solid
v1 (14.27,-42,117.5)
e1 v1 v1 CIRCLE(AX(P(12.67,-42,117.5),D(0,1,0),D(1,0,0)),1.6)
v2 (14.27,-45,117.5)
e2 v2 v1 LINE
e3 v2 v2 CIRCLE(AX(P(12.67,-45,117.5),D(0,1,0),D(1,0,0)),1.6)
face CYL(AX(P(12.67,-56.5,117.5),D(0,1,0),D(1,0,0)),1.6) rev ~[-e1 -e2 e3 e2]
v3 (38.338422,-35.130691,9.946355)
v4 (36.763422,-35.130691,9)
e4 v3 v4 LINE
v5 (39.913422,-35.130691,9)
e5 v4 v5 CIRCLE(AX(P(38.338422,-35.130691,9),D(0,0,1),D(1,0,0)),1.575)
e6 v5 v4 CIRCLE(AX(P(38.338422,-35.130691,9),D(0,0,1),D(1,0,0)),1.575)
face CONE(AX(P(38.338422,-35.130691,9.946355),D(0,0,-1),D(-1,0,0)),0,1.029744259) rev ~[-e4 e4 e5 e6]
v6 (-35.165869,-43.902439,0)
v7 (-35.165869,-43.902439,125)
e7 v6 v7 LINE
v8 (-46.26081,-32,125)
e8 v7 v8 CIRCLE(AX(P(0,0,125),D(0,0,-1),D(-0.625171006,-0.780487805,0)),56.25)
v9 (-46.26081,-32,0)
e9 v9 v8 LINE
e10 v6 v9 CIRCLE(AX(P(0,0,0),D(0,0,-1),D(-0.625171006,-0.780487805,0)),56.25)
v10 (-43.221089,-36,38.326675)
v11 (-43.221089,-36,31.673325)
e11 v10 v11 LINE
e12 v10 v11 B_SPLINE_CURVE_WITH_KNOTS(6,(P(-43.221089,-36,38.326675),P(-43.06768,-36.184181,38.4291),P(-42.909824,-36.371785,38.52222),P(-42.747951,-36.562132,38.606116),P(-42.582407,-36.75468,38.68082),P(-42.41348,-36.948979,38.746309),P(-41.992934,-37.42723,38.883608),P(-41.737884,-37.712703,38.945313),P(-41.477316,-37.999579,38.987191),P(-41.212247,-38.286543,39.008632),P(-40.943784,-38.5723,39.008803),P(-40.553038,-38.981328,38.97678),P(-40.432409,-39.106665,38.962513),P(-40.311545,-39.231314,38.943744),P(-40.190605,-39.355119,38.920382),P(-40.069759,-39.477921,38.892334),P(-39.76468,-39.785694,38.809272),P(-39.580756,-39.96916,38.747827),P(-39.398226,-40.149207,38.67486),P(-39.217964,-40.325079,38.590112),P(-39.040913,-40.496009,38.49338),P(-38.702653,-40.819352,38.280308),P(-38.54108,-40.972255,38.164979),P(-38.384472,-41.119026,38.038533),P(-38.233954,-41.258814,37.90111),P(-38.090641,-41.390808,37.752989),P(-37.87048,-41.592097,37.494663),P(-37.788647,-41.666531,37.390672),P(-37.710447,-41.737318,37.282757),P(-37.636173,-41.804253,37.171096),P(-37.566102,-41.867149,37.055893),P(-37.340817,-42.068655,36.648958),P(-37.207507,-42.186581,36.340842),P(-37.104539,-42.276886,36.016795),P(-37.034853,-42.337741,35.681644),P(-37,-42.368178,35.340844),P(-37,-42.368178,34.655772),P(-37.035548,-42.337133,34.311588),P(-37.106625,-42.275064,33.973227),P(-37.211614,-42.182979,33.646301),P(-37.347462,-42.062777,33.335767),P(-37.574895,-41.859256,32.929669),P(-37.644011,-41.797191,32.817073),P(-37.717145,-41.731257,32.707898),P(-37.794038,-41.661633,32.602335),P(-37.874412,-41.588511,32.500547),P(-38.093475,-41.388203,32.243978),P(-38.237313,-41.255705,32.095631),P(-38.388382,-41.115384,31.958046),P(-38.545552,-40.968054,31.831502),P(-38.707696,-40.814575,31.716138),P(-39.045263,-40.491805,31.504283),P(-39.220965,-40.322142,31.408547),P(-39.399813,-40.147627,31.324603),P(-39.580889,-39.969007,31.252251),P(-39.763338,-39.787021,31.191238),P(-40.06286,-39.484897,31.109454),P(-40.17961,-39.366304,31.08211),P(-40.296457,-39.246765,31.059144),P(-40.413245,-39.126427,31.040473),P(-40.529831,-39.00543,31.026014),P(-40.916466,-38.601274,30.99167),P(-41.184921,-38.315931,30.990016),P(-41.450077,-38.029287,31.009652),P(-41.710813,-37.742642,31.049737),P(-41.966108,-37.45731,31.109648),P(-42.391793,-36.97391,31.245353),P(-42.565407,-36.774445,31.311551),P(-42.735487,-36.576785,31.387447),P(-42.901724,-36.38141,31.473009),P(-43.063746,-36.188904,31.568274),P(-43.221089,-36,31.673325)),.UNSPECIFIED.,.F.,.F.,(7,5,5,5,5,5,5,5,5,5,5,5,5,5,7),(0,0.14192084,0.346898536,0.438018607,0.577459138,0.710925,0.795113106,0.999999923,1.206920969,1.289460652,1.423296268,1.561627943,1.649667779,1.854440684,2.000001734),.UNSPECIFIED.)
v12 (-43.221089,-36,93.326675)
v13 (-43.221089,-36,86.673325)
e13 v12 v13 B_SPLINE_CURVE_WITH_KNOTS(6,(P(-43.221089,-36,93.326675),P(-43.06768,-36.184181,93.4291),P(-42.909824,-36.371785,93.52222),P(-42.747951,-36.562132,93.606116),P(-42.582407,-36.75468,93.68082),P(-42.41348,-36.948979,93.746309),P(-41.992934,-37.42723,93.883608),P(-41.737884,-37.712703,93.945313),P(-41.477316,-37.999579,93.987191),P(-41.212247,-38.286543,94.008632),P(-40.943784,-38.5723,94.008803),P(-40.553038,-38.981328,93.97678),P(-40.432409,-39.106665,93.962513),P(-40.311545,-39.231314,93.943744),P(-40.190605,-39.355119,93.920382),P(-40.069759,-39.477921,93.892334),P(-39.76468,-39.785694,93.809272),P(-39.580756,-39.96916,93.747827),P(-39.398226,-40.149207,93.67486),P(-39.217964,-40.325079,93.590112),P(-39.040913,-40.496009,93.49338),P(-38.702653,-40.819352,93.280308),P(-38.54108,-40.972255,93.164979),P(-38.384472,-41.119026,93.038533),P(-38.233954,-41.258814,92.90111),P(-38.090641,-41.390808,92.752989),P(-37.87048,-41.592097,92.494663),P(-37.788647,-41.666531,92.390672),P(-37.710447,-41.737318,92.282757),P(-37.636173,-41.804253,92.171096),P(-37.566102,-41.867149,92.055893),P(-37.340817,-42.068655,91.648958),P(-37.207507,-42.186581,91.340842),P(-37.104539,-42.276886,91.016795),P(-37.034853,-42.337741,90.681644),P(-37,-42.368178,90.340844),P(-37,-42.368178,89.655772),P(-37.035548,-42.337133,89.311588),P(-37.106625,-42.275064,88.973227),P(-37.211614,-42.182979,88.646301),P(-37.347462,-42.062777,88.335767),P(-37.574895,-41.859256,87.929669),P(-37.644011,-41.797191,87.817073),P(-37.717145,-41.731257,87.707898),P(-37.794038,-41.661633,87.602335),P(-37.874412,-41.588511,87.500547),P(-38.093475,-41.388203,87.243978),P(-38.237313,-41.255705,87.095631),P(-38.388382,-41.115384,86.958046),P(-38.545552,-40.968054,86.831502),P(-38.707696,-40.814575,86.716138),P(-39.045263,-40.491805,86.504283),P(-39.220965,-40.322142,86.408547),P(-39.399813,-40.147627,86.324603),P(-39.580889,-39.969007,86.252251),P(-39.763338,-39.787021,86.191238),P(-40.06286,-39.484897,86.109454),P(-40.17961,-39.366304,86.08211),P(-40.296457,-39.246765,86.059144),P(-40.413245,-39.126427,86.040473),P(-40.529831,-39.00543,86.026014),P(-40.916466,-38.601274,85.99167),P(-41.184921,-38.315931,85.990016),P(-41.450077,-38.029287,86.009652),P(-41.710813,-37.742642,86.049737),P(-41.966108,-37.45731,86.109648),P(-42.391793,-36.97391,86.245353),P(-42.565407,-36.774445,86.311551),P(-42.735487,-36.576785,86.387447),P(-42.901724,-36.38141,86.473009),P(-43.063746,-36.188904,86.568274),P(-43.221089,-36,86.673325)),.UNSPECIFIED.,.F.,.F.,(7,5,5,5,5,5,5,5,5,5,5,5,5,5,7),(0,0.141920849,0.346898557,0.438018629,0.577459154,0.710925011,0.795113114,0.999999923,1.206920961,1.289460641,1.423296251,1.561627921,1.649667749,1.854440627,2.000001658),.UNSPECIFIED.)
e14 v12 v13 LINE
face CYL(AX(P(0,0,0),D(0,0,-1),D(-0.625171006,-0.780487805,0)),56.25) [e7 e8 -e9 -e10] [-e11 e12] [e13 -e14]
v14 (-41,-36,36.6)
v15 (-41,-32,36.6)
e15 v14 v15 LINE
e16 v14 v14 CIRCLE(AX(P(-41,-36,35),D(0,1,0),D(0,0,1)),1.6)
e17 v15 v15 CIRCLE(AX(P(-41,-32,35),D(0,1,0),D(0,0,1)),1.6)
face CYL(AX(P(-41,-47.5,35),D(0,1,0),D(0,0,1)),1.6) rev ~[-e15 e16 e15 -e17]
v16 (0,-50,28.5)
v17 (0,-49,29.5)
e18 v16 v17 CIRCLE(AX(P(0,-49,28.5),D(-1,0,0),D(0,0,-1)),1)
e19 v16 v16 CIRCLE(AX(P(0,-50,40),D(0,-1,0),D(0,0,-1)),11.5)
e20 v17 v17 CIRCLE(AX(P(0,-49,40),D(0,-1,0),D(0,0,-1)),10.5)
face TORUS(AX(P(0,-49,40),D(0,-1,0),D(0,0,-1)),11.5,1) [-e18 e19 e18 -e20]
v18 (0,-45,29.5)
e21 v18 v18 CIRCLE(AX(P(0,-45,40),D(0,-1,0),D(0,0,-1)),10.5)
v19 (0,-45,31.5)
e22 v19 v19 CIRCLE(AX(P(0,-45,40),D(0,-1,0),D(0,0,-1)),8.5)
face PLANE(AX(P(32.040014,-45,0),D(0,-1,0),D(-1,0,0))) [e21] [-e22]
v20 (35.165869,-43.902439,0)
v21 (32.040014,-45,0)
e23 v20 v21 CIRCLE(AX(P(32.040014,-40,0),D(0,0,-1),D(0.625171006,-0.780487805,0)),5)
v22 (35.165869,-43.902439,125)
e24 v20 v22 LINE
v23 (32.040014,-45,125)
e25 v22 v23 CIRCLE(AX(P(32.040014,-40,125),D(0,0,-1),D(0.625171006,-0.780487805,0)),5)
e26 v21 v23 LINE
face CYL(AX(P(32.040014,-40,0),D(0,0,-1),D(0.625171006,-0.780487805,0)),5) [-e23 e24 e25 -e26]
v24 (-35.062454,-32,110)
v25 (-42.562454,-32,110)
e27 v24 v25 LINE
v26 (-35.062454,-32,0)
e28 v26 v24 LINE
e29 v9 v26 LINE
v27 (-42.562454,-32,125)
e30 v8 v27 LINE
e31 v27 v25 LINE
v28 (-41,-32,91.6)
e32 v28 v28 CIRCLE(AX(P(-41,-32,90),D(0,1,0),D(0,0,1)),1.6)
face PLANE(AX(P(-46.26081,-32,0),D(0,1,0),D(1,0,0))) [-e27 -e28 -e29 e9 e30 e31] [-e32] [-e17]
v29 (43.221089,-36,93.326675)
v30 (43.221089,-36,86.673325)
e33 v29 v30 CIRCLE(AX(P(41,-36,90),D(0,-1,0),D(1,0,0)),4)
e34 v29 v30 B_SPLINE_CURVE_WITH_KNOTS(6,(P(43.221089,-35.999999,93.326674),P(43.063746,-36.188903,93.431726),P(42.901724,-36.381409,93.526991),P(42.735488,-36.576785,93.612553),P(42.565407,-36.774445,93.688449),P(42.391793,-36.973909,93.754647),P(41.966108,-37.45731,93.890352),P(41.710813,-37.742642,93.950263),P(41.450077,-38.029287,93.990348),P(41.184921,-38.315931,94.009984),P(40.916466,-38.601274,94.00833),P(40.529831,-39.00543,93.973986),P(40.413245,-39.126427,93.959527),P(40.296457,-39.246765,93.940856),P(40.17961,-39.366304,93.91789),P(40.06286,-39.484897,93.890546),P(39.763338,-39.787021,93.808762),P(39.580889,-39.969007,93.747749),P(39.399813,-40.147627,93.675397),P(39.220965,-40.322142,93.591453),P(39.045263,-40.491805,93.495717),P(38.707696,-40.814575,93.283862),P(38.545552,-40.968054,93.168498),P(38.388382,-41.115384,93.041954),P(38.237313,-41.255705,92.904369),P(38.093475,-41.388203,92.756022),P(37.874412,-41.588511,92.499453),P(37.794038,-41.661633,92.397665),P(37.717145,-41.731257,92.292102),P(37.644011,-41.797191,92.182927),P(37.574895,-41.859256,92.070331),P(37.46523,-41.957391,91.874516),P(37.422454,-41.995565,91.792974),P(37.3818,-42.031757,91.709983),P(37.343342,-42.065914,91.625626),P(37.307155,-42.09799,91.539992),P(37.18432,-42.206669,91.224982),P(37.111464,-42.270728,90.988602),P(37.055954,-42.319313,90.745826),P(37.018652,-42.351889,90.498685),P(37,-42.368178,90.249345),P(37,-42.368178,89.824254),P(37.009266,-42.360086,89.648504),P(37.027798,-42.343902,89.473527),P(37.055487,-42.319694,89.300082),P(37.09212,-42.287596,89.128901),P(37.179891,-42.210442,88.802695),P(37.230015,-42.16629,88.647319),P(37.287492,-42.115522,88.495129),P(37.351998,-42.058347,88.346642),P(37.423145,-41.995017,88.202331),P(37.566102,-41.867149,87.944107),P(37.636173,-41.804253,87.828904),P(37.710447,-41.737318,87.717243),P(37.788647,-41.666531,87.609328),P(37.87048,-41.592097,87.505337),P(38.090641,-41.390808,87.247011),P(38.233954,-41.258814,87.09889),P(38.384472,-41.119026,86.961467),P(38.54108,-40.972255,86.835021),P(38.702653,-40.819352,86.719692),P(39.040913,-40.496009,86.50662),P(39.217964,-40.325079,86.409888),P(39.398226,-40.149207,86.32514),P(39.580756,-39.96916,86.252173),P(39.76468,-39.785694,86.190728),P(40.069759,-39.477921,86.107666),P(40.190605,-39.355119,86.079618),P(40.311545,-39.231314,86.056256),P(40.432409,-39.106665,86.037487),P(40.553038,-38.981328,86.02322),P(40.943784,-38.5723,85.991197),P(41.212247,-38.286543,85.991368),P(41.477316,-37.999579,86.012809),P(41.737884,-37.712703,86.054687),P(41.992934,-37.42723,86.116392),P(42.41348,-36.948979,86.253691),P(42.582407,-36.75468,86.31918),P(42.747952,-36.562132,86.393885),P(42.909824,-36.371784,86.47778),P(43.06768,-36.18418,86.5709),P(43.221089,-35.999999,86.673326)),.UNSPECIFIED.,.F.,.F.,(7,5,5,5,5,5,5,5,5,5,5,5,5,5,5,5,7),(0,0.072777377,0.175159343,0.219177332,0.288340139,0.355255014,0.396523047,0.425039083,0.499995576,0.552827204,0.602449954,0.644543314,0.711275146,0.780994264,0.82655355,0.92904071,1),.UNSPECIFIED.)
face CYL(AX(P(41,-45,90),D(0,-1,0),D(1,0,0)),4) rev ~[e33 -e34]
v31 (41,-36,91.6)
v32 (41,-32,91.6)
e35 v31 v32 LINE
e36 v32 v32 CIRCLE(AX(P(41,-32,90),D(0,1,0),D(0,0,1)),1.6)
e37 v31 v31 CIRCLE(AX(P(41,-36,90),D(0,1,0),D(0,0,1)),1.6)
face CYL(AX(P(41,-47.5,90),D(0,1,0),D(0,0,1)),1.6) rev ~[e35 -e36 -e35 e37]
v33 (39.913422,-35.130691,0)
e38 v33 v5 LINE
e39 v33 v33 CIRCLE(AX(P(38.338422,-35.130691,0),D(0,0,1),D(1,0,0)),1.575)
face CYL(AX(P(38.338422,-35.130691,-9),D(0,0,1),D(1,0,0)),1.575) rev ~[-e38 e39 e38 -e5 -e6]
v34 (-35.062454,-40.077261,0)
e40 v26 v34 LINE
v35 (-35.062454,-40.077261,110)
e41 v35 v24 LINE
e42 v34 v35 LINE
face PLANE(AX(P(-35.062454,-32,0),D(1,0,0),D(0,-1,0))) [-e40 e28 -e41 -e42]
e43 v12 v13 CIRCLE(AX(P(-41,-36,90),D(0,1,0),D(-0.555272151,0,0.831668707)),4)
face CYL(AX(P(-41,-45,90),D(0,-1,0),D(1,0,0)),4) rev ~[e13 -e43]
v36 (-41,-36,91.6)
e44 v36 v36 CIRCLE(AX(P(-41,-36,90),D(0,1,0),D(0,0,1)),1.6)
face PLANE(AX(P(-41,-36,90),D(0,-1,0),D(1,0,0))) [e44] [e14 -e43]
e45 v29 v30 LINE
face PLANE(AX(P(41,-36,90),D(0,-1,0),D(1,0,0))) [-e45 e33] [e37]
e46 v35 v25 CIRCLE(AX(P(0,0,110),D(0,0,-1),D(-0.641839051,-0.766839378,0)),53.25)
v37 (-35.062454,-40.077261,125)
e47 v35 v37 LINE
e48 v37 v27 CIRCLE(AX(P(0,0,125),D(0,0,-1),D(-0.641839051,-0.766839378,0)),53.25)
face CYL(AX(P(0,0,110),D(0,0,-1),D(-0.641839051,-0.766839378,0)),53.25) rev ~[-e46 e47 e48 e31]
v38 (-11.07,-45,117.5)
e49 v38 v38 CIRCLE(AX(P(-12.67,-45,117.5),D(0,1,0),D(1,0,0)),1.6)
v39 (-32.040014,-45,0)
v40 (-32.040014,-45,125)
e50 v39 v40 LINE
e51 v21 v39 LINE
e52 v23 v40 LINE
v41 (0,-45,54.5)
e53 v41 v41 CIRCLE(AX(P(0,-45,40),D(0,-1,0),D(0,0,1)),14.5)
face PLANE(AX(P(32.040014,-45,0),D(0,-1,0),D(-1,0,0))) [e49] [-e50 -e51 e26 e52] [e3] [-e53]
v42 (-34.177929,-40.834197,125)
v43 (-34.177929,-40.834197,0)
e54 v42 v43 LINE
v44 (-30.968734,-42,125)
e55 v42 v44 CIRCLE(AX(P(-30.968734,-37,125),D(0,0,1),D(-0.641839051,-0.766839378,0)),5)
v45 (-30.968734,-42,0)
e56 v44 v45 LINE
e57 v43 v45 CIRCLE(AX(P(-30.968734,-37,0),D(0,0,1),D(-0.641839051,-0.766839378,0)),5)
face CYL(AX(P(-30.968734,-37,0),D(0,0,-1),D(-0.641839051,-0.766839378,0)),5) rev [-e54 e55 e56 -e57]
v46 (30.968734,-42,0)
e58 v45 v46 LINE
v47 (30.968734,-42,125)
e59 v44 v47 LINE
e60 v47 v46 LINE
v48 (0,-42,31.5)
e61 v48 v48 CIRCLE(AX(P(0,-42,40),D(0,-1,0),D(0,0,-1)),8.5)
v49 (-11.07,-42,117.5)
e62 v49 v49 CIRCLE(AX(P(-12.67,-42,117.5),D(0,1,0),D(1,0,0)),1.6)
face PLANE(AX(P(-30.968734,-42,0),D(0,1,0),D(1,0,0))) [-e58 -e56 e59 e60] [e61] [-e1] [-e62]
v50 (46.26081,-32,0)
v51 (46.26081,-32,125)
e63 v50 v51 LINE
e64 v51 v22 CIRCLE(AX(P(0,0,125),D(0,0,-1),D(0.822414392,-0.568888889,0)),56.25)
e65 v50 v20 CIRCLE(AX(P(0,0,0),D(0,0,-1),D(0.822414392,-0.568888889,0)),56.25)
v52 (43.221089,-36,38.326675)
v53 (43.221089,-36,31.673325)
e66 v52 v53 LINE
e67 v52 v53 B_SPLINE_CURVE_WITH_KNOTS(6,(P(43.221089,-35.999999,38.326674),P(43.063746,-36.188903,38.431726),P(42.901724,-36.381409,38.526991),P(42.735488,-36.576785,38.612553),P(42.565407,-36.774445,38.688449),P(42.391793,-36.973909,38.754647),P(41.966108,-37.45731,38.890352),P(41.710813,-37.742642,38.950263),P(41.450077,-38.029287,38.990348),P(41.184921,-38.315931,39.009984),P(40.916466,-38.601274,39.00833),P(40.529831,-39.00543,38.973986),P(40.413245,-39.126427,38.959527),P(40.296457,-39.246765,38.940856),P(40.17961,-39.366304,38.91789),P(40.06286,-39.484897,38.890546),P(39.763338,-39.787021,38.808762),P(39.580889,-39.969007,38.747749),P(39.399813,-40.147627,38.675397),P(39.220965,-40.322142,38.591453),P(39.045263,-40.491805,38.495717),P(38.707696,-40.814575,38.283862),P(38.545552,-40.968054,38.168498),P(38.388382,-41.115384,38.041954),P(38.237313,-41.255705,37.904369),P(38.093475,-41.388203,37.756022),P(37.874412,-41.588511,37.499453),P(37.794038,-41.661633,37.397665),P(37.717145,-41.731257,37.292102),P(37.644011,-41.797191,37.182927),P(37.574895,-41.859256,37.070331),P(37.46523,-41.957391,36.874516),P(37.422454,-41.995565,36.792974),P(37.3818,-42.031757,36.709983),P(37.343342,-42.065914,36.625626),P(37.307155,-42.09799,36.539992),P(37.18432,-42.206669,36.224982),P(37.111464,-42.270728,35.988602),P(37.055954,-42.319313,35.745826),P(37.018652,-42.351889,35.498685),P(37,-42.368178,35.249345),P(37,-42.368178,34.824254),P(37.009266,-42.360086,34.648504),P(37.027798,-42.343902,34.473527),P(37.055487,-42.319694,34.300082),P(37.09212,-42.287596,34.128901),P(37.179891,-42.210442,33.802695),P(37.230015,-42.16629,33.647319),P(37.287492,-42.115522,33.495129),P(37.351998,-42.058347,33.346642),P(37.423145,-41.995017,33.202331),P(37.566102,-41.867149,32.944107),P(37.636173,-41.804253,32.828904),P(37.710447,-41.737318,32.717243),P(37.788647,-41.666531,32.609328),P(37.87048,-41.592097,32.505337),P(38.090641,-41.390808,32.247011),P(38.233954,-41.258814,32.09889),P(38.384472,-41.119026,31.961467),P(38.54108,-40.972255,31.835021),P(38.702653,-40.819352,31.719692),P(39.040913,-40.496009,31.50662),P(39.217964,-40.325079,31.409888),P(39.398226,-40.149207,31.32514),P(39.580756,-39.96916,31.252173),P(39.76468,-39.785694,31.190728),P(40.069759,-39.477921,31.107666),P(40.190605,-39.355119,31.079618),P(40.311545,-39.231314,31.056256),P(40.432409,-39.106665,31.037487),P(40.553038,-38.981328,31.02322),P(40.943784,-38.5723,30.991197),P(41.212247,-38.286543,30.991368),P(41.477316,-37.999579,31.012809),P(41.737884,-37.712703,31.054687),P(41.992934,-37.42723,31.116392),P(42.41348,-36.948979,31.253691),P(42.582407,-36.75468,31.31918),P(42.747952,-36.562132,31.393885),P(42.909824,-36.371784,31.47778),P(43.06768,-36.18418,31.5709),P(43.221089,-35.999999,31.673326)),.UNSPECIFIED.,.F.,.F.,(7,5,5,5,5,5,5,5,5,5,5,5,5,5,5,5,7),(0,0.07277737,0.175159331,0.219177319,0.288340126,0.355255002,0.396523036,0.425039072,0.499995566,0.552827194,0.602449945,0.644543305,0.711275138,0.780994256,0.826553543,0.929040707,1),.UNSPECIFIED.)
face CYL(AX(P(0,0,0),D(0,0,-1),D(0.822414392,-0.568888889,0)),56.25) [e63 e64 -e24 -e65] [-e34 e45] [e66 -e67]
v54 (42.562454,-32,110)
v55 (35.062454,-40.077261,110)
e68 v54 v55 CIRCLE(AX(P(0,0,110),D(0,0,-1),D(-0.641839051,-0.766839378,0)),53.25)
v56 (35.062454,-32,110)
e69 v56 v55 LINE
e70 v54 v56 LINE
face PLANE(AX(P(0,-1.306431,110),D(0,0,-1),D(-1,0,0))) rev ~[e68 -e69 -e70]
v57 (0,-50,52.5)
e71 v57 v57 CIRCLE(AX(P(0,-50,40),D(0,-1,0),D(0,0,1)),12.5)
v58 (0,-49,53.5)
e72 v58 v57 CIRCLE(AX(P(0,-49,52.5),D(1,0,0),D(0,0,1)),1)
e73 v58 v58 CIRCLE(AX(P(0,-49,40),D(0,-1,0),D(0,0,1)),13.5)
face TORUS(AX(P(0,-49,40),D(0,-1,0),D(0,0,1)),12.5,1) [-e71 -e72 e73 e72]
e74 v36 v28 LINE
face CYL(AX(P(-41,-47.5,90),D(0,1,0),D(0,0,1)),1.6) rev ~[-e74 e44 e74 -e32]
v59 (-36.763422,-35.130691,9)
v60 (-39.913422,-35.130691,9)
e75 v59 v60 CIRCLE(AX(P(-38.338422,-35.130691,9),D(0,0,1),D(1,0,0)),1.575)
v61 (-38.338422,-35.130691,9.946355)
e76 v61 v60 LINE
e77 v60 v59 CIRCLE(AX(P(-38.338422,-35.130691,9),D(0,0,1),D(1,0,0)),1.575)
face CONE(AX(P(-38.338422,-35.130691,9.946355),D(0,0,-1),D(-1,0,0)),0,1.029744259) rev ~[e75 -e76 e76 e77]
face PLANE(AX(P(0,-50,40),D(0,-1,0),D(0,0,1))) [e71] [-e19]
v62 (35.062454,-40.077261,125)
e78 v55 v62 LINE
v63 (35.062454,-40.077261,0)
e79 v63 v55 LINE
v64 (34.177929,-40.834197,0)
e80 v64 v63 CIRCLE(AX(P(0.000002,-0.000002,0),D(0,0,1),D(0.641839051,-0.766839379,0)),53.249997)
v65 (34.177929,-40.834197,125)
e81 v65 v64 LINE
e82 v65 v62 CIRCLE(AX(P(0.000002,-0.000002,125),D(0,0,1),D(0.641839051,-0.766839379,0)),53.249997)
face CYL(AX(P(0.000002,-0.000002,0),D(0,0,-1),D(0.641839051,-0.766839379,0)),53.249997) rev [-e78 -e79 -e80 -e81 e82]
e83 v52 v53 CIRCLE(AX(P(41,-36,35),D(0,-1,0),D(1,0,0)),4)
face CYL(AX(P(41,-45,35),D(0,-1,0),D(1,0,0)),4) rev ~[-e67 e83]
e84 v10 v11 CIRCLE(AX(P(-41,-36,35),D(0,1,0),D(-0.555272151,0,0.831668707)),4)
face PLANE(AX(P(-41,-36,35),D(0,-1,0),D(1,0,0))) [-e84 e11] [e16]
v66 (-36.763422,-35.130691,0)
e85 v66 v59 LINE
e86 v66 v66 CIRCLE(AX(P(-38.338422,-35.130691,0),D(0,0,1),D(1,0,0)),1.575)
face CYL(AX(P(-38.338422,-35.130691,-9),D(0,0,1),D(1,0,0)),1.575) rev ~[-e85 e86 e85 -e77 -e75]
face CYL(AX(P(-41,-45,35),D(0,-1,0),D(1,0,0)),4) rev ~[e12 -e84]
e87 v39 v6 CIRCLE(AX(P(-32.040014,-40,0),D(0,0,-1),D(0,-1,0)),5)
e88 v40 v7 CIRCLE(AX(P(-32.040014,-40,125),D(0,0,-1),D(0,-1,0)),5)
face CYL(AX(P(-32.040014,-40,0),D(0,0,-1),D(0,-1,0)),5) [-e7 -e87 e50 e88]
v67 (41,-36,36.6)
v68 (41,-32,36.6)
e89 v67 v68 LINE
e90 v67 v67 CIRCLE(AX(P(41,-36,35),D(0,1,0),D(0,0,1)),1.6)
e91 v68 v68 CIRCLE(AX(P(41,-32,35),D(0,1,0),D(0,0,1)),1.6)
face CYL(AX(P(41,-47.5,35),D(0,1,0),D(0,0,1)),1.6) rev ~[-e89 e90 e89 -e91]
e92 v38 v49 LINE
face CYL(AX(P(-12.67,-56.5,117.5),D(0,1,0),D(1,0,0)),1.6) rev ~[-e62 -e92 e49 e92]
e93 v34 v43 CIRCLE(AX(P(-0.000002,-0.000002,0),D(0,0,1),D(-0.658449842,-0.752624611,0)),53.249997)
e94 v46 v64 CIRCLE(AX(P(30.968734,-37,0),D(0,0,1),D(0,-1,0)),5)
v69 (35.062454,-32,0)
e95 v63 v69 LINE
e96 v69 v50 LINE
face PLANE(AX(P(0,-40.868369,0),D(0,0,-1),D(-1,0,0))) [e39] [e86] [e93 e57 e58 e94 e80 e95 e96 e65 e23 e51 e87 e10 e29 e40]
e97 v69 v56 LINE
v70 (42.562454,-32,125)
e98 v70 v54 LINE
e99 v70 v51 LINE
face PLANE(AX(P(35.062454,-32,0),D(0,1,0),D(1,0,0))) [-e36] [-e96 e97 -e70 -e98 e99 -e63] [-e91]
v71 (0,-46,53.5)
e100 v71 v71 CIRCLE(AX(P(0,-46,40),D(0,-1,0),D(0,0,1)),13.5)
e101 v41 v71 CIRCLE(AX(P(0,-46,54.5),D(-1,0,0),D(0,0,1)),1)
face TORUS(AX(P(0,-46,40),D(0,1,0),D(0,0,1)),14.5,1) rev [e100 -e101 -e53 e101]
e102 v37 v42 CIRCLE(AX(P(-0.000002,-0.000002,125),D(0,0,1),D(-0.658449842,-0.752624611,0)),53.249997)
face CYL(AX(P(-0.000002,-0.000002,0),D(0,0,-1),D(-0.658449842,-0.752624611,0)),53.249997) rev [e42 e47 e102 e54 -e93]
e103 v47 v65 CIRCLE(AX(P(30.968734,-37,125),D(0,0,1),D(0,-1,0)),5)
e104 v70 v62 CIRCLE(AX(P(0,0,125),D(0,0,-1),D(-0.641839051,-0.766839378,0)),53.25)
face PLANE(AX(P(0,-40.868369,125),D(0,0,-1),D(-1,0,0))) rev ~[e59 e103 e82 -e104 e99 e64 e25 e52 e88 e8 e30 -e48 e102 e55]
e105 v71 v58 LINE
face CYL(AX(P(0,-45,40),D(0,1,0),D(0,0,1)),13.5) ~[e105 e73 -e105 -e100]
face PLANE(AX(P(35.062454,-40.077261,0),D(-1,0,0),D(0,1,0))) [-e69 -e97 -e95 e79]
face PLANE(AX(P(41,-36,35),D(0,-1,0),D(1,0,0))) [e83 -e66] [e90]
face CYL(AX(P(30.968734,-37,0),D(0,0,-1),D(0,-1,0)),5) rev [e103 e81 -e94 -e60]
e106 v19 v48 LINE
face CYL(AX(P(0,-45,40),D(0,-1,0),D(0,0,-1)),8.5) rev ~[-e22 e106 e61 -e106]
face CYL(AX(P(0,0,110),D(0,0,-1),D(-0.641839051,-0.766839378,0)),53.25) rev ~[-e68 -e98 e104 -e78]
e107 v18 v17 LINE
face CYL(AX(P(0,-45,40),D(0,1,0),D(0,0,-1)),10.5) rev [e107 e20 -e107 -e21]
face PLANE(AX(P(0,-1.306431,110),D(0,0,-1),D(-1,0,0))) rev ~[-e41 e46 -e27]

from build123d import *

# Parameters (mm, degrees)
Y_KSEKLIK_EKSTR_ZYON1_DEPTH             = 125
KES_EKSTR_ZYON1_START                   = -15
KES_EKSTR_ZYON1_DEPTH                   = 15
M3_BO_LUKLU_DELIK1_D                    = 3.2
M3_BO_LUKLU_DELIK1_DEPTH                = 11.5
M3_BO_LUKLU_DELIK1_TIP                  = 0.96137699
IZIM8_R                                 = 4
KES_EKSTR_ZYON2_DEPTH                   = 9
M3_BO_LUKLU_DELIK2_D                    = 3.2
M3_BO_LUKLU_DELIK2_DEPTH                = 11.5
M3_BO_LUKLU_DELIK2_TIP                  = 0.96137699
M3X0_5_HELISARMAL_IN_DI_LI_DELIK1_D     = 3.15
M3X0_5_HELISARMAL_IN_DI_LI_DELIK1_DEPTH = 9
M3X0_5_HELISARMAL_IN_DI_LI_DELIK1_TIP   = 0.946355475
IZIM13_R                                = 8.5
KES_EKSTR_ZYON3_DEPTH                   = 10
IZIM14_R                                = 13.5
IZIM14_R_2                              = 10.5
Y_KSEKLIK_EKSTR_ZYON2_DEPTH             = 5
RADYUS1_R                               = 1


with BuildPart() as part:
    # Çizim1 → Yükseklik-Ekstrüzyon1 (new body)
    with BuildSketch(Plane.XY):
        with BuildLine():
            ThreePointArc((-32.040014045, -45), (-33.696486936, -44.717636862), (-35.165869074, -43.902439024))
            ThreePointArc((-35.165869074, -43.902439024), (-41.1459963, -38.354523703), (-46.260809548, -32))
            Line((-46.260809548, -32), (-42.562454112, -32))
            Line((-42.562454112, -32), (-35.062454112, -32))
            Line((-35.062454112, -32), (-35.062454112, -40.077260531))
            ThreePointArc((-35.062454112, -40.077260531), (-34.622260448, -40.458146046), (-34.17792949, -40.834196891))
            ThreePointArc((-34.17792949, -40.834196891), (-32.675927184, -41.699520425), (-30.968734233, -42))
            Line((-30.968734233, -42), (30.968734233, -42))
            ThreePointArc((30.968734233, -42), (32.675927184, -41.699520425), (34.17792949, -40.834196891))
            ThreePointArc((34.17792949, -40.834196891), (34.622260448, -40.458146046), (35.062454112, -40.077260531))
            Line((35.062454112, -40.077260531), (35.062454112, -32))
            Line((35.062454112, -32), (42.562454112, -32))
            Line((42.562454112, -32), (46.260809548, -32))
            ThreePointArc((46.260809548, -32), (41.1459963, -38.354523703), (35.165869074, -43.902439024))
            ThreePointArc((35.165869074, -43.902439024), (33.696486936, -44.717636862), (32.040014045, -45))
            Line((32.040014045, -45), (-32.040014045, -45))
        make_face()
    extrude(amount=Y_KSEKLIK_EKSTR_ZYON1_DEPTH)

    # Çizim2 → Kes-Ekstrüzyon1 (cut)
    with BuildSketch(Plane.XY.offset(125).offset(KES_EKSTR_ZYON1_START)):
        with BuildLine():
            Line((30.968734233, -42), (-30.968734233, -42))
            ThreePointArc((-30.968734233, -42), (-32.675927184, -41.699520425), (-34.17792949, -40.834196891))
            ThreePointArc((-34.17792949, -40.834196891), (0, 53.25), (34.17792949, -40.834196891))
            ThreePointArc((34.17792949, -40.834196891), (32.675927184, -41.699520425), (30.968734233, -42))
        make_face()
    extrude(amount=KES_EKSTR_ZYON1_DEPTH, mode=Mode.SUBTRACT)

    # M3 Boşluklu Delik1
    with Locations(Plane(origin=(0, -45, 0), x_dir=(-1, 0, 0), z_dir=(0, -1, 0))):
        with Locations((-12.67, -117.5), (12.67, -117.5)):
            Hole(M3_BO_LUKLU_DELIK1_D / 2, depth=M3_BO_LUKLU_DELIK1_DEPTH)
            with Locations((0, 0, -(M3_BO_LUKLU_DELIK1_DEPTH + M3_BO_LUKLU_DELIK1_TIP / 2))):  # 118° drill point
                Cone(0, M3_BO_LUKLU_DELIK1_D / 2, M3_BO_LUKLU_DELIK1_TIP, mode=Mode.SUBTRACT)

    # Çizim8 → Kes-Ekstrüzyon2 (cut)
    with BuildSketch(Plane.XZ.offset(45)):
        with Locations((-41, 90)):
            Circle(IZIM8_R)
        with Locations((41, 90)):
            Circle(IZIM8_R)
        with Locations((-41, 35)):
            Circle(IZIM8_R)
        with Locations((41, 35)):
            Circle(IZIM8_R)
    extrude(amount=-KES_EKSTR_ZYON2_DEPTH, mode=Mode.SUBTRACT)

    # M3 Boşluklu Delik2
    with Locations(Plane(origin=(-41, -36, 90), x_dir=(0, 0, -1), z_dir=(0, -1, 0))):
        with Locations((0, 0), (55, 0), (0, 82), (55, 82)):
            Hole(M3_BO_LUKLU_DELIK2_D / 2, depth=M3_BO_LUKLU_DELIK2_DEPTH)
            with Locations((0, 0, -(M3_BO_LUKLU_DELIK2_DEPTH + M3_BO_LUKLU_DELIK2_TIP / 2))):  # 118° drill point
                Cone(0, M3_BO_LUKLU_DELIK2_D / 2, M3_BO_LUKLU_DELIK2_TIP, mode=Mode.SUBTRACT)

    # M3x0.5 Helisarmal İçin Dişli Delik1
    with Locations(Plane(origin=(0, 0, 0), x_dir=(-1, 0, 0), z_dir=(0, 0, -1))):
        with Locations((38.338421514, -35.130690796), (-38.338421514, -35.130690796)):
            Hole(M3X0_5_HELISARMAL_IN_DI_LI_DELIK1_D / 2, depth=M3X0_5_HELISARMAL_IN_DI_LI_DELIK1_DEPTH)
            with Locations((0, 0, -(M3X0_5_HELISARMAL_IN_DI_LI_DELIK1_DEPTH + M3X0_5_HELISARMAL_IN_DI_LI_DELIK1_TIP / 2))):  # 118° drill point
                Cone(0, M3X0_5_HELISARMAL_IN_DI_LI_DELIK1_D / 2, M3X0_5_HELISARMAL_IN_DI_LI_DELIK1_TIP, mode=Mode.SUBTRACT)

    # Çizim13 → Kes-Ekstrüzyon3 (cut)
    with BuildSketch(Plane.XZ.offset(45)):
        with Locations(Location((0, 40, 0), (0, 0, 270))):
            Circle(IZIM13_R)
    extrude(amount=-KES_EKSTR_ZYON3_DEPTH, mode=Mode.SUBTRACT)

    # Çizim14 → Yükseklik-Ekstrüzyon2 (add)
    with BuildSketch(Plane.XZ.offset(45)):
        with Locations(Location((0, 40, 0), (0, 0, 90))):
            Circle(IZIM14_R)
        with Locations(Location((0, 40, 0), (0, 0, 270))):
            Circle(IZIM14_R_2, mode=Mode.SUBTRACT)
    extrude(amount=Y_KSEKLIK_EKSTR_ZYON2_DEPTH)

    # Radyus1
    radyus1_edges = [part.edges().sort_by_distance(p)[0] for p in [
        (0, -45, 26.5),
        (0, -50, 26.5),
        (0, -50, 50.5),
    ]]
    fillet(radyus1_edges, radius=RADYUS1_R)


solid = part.part
